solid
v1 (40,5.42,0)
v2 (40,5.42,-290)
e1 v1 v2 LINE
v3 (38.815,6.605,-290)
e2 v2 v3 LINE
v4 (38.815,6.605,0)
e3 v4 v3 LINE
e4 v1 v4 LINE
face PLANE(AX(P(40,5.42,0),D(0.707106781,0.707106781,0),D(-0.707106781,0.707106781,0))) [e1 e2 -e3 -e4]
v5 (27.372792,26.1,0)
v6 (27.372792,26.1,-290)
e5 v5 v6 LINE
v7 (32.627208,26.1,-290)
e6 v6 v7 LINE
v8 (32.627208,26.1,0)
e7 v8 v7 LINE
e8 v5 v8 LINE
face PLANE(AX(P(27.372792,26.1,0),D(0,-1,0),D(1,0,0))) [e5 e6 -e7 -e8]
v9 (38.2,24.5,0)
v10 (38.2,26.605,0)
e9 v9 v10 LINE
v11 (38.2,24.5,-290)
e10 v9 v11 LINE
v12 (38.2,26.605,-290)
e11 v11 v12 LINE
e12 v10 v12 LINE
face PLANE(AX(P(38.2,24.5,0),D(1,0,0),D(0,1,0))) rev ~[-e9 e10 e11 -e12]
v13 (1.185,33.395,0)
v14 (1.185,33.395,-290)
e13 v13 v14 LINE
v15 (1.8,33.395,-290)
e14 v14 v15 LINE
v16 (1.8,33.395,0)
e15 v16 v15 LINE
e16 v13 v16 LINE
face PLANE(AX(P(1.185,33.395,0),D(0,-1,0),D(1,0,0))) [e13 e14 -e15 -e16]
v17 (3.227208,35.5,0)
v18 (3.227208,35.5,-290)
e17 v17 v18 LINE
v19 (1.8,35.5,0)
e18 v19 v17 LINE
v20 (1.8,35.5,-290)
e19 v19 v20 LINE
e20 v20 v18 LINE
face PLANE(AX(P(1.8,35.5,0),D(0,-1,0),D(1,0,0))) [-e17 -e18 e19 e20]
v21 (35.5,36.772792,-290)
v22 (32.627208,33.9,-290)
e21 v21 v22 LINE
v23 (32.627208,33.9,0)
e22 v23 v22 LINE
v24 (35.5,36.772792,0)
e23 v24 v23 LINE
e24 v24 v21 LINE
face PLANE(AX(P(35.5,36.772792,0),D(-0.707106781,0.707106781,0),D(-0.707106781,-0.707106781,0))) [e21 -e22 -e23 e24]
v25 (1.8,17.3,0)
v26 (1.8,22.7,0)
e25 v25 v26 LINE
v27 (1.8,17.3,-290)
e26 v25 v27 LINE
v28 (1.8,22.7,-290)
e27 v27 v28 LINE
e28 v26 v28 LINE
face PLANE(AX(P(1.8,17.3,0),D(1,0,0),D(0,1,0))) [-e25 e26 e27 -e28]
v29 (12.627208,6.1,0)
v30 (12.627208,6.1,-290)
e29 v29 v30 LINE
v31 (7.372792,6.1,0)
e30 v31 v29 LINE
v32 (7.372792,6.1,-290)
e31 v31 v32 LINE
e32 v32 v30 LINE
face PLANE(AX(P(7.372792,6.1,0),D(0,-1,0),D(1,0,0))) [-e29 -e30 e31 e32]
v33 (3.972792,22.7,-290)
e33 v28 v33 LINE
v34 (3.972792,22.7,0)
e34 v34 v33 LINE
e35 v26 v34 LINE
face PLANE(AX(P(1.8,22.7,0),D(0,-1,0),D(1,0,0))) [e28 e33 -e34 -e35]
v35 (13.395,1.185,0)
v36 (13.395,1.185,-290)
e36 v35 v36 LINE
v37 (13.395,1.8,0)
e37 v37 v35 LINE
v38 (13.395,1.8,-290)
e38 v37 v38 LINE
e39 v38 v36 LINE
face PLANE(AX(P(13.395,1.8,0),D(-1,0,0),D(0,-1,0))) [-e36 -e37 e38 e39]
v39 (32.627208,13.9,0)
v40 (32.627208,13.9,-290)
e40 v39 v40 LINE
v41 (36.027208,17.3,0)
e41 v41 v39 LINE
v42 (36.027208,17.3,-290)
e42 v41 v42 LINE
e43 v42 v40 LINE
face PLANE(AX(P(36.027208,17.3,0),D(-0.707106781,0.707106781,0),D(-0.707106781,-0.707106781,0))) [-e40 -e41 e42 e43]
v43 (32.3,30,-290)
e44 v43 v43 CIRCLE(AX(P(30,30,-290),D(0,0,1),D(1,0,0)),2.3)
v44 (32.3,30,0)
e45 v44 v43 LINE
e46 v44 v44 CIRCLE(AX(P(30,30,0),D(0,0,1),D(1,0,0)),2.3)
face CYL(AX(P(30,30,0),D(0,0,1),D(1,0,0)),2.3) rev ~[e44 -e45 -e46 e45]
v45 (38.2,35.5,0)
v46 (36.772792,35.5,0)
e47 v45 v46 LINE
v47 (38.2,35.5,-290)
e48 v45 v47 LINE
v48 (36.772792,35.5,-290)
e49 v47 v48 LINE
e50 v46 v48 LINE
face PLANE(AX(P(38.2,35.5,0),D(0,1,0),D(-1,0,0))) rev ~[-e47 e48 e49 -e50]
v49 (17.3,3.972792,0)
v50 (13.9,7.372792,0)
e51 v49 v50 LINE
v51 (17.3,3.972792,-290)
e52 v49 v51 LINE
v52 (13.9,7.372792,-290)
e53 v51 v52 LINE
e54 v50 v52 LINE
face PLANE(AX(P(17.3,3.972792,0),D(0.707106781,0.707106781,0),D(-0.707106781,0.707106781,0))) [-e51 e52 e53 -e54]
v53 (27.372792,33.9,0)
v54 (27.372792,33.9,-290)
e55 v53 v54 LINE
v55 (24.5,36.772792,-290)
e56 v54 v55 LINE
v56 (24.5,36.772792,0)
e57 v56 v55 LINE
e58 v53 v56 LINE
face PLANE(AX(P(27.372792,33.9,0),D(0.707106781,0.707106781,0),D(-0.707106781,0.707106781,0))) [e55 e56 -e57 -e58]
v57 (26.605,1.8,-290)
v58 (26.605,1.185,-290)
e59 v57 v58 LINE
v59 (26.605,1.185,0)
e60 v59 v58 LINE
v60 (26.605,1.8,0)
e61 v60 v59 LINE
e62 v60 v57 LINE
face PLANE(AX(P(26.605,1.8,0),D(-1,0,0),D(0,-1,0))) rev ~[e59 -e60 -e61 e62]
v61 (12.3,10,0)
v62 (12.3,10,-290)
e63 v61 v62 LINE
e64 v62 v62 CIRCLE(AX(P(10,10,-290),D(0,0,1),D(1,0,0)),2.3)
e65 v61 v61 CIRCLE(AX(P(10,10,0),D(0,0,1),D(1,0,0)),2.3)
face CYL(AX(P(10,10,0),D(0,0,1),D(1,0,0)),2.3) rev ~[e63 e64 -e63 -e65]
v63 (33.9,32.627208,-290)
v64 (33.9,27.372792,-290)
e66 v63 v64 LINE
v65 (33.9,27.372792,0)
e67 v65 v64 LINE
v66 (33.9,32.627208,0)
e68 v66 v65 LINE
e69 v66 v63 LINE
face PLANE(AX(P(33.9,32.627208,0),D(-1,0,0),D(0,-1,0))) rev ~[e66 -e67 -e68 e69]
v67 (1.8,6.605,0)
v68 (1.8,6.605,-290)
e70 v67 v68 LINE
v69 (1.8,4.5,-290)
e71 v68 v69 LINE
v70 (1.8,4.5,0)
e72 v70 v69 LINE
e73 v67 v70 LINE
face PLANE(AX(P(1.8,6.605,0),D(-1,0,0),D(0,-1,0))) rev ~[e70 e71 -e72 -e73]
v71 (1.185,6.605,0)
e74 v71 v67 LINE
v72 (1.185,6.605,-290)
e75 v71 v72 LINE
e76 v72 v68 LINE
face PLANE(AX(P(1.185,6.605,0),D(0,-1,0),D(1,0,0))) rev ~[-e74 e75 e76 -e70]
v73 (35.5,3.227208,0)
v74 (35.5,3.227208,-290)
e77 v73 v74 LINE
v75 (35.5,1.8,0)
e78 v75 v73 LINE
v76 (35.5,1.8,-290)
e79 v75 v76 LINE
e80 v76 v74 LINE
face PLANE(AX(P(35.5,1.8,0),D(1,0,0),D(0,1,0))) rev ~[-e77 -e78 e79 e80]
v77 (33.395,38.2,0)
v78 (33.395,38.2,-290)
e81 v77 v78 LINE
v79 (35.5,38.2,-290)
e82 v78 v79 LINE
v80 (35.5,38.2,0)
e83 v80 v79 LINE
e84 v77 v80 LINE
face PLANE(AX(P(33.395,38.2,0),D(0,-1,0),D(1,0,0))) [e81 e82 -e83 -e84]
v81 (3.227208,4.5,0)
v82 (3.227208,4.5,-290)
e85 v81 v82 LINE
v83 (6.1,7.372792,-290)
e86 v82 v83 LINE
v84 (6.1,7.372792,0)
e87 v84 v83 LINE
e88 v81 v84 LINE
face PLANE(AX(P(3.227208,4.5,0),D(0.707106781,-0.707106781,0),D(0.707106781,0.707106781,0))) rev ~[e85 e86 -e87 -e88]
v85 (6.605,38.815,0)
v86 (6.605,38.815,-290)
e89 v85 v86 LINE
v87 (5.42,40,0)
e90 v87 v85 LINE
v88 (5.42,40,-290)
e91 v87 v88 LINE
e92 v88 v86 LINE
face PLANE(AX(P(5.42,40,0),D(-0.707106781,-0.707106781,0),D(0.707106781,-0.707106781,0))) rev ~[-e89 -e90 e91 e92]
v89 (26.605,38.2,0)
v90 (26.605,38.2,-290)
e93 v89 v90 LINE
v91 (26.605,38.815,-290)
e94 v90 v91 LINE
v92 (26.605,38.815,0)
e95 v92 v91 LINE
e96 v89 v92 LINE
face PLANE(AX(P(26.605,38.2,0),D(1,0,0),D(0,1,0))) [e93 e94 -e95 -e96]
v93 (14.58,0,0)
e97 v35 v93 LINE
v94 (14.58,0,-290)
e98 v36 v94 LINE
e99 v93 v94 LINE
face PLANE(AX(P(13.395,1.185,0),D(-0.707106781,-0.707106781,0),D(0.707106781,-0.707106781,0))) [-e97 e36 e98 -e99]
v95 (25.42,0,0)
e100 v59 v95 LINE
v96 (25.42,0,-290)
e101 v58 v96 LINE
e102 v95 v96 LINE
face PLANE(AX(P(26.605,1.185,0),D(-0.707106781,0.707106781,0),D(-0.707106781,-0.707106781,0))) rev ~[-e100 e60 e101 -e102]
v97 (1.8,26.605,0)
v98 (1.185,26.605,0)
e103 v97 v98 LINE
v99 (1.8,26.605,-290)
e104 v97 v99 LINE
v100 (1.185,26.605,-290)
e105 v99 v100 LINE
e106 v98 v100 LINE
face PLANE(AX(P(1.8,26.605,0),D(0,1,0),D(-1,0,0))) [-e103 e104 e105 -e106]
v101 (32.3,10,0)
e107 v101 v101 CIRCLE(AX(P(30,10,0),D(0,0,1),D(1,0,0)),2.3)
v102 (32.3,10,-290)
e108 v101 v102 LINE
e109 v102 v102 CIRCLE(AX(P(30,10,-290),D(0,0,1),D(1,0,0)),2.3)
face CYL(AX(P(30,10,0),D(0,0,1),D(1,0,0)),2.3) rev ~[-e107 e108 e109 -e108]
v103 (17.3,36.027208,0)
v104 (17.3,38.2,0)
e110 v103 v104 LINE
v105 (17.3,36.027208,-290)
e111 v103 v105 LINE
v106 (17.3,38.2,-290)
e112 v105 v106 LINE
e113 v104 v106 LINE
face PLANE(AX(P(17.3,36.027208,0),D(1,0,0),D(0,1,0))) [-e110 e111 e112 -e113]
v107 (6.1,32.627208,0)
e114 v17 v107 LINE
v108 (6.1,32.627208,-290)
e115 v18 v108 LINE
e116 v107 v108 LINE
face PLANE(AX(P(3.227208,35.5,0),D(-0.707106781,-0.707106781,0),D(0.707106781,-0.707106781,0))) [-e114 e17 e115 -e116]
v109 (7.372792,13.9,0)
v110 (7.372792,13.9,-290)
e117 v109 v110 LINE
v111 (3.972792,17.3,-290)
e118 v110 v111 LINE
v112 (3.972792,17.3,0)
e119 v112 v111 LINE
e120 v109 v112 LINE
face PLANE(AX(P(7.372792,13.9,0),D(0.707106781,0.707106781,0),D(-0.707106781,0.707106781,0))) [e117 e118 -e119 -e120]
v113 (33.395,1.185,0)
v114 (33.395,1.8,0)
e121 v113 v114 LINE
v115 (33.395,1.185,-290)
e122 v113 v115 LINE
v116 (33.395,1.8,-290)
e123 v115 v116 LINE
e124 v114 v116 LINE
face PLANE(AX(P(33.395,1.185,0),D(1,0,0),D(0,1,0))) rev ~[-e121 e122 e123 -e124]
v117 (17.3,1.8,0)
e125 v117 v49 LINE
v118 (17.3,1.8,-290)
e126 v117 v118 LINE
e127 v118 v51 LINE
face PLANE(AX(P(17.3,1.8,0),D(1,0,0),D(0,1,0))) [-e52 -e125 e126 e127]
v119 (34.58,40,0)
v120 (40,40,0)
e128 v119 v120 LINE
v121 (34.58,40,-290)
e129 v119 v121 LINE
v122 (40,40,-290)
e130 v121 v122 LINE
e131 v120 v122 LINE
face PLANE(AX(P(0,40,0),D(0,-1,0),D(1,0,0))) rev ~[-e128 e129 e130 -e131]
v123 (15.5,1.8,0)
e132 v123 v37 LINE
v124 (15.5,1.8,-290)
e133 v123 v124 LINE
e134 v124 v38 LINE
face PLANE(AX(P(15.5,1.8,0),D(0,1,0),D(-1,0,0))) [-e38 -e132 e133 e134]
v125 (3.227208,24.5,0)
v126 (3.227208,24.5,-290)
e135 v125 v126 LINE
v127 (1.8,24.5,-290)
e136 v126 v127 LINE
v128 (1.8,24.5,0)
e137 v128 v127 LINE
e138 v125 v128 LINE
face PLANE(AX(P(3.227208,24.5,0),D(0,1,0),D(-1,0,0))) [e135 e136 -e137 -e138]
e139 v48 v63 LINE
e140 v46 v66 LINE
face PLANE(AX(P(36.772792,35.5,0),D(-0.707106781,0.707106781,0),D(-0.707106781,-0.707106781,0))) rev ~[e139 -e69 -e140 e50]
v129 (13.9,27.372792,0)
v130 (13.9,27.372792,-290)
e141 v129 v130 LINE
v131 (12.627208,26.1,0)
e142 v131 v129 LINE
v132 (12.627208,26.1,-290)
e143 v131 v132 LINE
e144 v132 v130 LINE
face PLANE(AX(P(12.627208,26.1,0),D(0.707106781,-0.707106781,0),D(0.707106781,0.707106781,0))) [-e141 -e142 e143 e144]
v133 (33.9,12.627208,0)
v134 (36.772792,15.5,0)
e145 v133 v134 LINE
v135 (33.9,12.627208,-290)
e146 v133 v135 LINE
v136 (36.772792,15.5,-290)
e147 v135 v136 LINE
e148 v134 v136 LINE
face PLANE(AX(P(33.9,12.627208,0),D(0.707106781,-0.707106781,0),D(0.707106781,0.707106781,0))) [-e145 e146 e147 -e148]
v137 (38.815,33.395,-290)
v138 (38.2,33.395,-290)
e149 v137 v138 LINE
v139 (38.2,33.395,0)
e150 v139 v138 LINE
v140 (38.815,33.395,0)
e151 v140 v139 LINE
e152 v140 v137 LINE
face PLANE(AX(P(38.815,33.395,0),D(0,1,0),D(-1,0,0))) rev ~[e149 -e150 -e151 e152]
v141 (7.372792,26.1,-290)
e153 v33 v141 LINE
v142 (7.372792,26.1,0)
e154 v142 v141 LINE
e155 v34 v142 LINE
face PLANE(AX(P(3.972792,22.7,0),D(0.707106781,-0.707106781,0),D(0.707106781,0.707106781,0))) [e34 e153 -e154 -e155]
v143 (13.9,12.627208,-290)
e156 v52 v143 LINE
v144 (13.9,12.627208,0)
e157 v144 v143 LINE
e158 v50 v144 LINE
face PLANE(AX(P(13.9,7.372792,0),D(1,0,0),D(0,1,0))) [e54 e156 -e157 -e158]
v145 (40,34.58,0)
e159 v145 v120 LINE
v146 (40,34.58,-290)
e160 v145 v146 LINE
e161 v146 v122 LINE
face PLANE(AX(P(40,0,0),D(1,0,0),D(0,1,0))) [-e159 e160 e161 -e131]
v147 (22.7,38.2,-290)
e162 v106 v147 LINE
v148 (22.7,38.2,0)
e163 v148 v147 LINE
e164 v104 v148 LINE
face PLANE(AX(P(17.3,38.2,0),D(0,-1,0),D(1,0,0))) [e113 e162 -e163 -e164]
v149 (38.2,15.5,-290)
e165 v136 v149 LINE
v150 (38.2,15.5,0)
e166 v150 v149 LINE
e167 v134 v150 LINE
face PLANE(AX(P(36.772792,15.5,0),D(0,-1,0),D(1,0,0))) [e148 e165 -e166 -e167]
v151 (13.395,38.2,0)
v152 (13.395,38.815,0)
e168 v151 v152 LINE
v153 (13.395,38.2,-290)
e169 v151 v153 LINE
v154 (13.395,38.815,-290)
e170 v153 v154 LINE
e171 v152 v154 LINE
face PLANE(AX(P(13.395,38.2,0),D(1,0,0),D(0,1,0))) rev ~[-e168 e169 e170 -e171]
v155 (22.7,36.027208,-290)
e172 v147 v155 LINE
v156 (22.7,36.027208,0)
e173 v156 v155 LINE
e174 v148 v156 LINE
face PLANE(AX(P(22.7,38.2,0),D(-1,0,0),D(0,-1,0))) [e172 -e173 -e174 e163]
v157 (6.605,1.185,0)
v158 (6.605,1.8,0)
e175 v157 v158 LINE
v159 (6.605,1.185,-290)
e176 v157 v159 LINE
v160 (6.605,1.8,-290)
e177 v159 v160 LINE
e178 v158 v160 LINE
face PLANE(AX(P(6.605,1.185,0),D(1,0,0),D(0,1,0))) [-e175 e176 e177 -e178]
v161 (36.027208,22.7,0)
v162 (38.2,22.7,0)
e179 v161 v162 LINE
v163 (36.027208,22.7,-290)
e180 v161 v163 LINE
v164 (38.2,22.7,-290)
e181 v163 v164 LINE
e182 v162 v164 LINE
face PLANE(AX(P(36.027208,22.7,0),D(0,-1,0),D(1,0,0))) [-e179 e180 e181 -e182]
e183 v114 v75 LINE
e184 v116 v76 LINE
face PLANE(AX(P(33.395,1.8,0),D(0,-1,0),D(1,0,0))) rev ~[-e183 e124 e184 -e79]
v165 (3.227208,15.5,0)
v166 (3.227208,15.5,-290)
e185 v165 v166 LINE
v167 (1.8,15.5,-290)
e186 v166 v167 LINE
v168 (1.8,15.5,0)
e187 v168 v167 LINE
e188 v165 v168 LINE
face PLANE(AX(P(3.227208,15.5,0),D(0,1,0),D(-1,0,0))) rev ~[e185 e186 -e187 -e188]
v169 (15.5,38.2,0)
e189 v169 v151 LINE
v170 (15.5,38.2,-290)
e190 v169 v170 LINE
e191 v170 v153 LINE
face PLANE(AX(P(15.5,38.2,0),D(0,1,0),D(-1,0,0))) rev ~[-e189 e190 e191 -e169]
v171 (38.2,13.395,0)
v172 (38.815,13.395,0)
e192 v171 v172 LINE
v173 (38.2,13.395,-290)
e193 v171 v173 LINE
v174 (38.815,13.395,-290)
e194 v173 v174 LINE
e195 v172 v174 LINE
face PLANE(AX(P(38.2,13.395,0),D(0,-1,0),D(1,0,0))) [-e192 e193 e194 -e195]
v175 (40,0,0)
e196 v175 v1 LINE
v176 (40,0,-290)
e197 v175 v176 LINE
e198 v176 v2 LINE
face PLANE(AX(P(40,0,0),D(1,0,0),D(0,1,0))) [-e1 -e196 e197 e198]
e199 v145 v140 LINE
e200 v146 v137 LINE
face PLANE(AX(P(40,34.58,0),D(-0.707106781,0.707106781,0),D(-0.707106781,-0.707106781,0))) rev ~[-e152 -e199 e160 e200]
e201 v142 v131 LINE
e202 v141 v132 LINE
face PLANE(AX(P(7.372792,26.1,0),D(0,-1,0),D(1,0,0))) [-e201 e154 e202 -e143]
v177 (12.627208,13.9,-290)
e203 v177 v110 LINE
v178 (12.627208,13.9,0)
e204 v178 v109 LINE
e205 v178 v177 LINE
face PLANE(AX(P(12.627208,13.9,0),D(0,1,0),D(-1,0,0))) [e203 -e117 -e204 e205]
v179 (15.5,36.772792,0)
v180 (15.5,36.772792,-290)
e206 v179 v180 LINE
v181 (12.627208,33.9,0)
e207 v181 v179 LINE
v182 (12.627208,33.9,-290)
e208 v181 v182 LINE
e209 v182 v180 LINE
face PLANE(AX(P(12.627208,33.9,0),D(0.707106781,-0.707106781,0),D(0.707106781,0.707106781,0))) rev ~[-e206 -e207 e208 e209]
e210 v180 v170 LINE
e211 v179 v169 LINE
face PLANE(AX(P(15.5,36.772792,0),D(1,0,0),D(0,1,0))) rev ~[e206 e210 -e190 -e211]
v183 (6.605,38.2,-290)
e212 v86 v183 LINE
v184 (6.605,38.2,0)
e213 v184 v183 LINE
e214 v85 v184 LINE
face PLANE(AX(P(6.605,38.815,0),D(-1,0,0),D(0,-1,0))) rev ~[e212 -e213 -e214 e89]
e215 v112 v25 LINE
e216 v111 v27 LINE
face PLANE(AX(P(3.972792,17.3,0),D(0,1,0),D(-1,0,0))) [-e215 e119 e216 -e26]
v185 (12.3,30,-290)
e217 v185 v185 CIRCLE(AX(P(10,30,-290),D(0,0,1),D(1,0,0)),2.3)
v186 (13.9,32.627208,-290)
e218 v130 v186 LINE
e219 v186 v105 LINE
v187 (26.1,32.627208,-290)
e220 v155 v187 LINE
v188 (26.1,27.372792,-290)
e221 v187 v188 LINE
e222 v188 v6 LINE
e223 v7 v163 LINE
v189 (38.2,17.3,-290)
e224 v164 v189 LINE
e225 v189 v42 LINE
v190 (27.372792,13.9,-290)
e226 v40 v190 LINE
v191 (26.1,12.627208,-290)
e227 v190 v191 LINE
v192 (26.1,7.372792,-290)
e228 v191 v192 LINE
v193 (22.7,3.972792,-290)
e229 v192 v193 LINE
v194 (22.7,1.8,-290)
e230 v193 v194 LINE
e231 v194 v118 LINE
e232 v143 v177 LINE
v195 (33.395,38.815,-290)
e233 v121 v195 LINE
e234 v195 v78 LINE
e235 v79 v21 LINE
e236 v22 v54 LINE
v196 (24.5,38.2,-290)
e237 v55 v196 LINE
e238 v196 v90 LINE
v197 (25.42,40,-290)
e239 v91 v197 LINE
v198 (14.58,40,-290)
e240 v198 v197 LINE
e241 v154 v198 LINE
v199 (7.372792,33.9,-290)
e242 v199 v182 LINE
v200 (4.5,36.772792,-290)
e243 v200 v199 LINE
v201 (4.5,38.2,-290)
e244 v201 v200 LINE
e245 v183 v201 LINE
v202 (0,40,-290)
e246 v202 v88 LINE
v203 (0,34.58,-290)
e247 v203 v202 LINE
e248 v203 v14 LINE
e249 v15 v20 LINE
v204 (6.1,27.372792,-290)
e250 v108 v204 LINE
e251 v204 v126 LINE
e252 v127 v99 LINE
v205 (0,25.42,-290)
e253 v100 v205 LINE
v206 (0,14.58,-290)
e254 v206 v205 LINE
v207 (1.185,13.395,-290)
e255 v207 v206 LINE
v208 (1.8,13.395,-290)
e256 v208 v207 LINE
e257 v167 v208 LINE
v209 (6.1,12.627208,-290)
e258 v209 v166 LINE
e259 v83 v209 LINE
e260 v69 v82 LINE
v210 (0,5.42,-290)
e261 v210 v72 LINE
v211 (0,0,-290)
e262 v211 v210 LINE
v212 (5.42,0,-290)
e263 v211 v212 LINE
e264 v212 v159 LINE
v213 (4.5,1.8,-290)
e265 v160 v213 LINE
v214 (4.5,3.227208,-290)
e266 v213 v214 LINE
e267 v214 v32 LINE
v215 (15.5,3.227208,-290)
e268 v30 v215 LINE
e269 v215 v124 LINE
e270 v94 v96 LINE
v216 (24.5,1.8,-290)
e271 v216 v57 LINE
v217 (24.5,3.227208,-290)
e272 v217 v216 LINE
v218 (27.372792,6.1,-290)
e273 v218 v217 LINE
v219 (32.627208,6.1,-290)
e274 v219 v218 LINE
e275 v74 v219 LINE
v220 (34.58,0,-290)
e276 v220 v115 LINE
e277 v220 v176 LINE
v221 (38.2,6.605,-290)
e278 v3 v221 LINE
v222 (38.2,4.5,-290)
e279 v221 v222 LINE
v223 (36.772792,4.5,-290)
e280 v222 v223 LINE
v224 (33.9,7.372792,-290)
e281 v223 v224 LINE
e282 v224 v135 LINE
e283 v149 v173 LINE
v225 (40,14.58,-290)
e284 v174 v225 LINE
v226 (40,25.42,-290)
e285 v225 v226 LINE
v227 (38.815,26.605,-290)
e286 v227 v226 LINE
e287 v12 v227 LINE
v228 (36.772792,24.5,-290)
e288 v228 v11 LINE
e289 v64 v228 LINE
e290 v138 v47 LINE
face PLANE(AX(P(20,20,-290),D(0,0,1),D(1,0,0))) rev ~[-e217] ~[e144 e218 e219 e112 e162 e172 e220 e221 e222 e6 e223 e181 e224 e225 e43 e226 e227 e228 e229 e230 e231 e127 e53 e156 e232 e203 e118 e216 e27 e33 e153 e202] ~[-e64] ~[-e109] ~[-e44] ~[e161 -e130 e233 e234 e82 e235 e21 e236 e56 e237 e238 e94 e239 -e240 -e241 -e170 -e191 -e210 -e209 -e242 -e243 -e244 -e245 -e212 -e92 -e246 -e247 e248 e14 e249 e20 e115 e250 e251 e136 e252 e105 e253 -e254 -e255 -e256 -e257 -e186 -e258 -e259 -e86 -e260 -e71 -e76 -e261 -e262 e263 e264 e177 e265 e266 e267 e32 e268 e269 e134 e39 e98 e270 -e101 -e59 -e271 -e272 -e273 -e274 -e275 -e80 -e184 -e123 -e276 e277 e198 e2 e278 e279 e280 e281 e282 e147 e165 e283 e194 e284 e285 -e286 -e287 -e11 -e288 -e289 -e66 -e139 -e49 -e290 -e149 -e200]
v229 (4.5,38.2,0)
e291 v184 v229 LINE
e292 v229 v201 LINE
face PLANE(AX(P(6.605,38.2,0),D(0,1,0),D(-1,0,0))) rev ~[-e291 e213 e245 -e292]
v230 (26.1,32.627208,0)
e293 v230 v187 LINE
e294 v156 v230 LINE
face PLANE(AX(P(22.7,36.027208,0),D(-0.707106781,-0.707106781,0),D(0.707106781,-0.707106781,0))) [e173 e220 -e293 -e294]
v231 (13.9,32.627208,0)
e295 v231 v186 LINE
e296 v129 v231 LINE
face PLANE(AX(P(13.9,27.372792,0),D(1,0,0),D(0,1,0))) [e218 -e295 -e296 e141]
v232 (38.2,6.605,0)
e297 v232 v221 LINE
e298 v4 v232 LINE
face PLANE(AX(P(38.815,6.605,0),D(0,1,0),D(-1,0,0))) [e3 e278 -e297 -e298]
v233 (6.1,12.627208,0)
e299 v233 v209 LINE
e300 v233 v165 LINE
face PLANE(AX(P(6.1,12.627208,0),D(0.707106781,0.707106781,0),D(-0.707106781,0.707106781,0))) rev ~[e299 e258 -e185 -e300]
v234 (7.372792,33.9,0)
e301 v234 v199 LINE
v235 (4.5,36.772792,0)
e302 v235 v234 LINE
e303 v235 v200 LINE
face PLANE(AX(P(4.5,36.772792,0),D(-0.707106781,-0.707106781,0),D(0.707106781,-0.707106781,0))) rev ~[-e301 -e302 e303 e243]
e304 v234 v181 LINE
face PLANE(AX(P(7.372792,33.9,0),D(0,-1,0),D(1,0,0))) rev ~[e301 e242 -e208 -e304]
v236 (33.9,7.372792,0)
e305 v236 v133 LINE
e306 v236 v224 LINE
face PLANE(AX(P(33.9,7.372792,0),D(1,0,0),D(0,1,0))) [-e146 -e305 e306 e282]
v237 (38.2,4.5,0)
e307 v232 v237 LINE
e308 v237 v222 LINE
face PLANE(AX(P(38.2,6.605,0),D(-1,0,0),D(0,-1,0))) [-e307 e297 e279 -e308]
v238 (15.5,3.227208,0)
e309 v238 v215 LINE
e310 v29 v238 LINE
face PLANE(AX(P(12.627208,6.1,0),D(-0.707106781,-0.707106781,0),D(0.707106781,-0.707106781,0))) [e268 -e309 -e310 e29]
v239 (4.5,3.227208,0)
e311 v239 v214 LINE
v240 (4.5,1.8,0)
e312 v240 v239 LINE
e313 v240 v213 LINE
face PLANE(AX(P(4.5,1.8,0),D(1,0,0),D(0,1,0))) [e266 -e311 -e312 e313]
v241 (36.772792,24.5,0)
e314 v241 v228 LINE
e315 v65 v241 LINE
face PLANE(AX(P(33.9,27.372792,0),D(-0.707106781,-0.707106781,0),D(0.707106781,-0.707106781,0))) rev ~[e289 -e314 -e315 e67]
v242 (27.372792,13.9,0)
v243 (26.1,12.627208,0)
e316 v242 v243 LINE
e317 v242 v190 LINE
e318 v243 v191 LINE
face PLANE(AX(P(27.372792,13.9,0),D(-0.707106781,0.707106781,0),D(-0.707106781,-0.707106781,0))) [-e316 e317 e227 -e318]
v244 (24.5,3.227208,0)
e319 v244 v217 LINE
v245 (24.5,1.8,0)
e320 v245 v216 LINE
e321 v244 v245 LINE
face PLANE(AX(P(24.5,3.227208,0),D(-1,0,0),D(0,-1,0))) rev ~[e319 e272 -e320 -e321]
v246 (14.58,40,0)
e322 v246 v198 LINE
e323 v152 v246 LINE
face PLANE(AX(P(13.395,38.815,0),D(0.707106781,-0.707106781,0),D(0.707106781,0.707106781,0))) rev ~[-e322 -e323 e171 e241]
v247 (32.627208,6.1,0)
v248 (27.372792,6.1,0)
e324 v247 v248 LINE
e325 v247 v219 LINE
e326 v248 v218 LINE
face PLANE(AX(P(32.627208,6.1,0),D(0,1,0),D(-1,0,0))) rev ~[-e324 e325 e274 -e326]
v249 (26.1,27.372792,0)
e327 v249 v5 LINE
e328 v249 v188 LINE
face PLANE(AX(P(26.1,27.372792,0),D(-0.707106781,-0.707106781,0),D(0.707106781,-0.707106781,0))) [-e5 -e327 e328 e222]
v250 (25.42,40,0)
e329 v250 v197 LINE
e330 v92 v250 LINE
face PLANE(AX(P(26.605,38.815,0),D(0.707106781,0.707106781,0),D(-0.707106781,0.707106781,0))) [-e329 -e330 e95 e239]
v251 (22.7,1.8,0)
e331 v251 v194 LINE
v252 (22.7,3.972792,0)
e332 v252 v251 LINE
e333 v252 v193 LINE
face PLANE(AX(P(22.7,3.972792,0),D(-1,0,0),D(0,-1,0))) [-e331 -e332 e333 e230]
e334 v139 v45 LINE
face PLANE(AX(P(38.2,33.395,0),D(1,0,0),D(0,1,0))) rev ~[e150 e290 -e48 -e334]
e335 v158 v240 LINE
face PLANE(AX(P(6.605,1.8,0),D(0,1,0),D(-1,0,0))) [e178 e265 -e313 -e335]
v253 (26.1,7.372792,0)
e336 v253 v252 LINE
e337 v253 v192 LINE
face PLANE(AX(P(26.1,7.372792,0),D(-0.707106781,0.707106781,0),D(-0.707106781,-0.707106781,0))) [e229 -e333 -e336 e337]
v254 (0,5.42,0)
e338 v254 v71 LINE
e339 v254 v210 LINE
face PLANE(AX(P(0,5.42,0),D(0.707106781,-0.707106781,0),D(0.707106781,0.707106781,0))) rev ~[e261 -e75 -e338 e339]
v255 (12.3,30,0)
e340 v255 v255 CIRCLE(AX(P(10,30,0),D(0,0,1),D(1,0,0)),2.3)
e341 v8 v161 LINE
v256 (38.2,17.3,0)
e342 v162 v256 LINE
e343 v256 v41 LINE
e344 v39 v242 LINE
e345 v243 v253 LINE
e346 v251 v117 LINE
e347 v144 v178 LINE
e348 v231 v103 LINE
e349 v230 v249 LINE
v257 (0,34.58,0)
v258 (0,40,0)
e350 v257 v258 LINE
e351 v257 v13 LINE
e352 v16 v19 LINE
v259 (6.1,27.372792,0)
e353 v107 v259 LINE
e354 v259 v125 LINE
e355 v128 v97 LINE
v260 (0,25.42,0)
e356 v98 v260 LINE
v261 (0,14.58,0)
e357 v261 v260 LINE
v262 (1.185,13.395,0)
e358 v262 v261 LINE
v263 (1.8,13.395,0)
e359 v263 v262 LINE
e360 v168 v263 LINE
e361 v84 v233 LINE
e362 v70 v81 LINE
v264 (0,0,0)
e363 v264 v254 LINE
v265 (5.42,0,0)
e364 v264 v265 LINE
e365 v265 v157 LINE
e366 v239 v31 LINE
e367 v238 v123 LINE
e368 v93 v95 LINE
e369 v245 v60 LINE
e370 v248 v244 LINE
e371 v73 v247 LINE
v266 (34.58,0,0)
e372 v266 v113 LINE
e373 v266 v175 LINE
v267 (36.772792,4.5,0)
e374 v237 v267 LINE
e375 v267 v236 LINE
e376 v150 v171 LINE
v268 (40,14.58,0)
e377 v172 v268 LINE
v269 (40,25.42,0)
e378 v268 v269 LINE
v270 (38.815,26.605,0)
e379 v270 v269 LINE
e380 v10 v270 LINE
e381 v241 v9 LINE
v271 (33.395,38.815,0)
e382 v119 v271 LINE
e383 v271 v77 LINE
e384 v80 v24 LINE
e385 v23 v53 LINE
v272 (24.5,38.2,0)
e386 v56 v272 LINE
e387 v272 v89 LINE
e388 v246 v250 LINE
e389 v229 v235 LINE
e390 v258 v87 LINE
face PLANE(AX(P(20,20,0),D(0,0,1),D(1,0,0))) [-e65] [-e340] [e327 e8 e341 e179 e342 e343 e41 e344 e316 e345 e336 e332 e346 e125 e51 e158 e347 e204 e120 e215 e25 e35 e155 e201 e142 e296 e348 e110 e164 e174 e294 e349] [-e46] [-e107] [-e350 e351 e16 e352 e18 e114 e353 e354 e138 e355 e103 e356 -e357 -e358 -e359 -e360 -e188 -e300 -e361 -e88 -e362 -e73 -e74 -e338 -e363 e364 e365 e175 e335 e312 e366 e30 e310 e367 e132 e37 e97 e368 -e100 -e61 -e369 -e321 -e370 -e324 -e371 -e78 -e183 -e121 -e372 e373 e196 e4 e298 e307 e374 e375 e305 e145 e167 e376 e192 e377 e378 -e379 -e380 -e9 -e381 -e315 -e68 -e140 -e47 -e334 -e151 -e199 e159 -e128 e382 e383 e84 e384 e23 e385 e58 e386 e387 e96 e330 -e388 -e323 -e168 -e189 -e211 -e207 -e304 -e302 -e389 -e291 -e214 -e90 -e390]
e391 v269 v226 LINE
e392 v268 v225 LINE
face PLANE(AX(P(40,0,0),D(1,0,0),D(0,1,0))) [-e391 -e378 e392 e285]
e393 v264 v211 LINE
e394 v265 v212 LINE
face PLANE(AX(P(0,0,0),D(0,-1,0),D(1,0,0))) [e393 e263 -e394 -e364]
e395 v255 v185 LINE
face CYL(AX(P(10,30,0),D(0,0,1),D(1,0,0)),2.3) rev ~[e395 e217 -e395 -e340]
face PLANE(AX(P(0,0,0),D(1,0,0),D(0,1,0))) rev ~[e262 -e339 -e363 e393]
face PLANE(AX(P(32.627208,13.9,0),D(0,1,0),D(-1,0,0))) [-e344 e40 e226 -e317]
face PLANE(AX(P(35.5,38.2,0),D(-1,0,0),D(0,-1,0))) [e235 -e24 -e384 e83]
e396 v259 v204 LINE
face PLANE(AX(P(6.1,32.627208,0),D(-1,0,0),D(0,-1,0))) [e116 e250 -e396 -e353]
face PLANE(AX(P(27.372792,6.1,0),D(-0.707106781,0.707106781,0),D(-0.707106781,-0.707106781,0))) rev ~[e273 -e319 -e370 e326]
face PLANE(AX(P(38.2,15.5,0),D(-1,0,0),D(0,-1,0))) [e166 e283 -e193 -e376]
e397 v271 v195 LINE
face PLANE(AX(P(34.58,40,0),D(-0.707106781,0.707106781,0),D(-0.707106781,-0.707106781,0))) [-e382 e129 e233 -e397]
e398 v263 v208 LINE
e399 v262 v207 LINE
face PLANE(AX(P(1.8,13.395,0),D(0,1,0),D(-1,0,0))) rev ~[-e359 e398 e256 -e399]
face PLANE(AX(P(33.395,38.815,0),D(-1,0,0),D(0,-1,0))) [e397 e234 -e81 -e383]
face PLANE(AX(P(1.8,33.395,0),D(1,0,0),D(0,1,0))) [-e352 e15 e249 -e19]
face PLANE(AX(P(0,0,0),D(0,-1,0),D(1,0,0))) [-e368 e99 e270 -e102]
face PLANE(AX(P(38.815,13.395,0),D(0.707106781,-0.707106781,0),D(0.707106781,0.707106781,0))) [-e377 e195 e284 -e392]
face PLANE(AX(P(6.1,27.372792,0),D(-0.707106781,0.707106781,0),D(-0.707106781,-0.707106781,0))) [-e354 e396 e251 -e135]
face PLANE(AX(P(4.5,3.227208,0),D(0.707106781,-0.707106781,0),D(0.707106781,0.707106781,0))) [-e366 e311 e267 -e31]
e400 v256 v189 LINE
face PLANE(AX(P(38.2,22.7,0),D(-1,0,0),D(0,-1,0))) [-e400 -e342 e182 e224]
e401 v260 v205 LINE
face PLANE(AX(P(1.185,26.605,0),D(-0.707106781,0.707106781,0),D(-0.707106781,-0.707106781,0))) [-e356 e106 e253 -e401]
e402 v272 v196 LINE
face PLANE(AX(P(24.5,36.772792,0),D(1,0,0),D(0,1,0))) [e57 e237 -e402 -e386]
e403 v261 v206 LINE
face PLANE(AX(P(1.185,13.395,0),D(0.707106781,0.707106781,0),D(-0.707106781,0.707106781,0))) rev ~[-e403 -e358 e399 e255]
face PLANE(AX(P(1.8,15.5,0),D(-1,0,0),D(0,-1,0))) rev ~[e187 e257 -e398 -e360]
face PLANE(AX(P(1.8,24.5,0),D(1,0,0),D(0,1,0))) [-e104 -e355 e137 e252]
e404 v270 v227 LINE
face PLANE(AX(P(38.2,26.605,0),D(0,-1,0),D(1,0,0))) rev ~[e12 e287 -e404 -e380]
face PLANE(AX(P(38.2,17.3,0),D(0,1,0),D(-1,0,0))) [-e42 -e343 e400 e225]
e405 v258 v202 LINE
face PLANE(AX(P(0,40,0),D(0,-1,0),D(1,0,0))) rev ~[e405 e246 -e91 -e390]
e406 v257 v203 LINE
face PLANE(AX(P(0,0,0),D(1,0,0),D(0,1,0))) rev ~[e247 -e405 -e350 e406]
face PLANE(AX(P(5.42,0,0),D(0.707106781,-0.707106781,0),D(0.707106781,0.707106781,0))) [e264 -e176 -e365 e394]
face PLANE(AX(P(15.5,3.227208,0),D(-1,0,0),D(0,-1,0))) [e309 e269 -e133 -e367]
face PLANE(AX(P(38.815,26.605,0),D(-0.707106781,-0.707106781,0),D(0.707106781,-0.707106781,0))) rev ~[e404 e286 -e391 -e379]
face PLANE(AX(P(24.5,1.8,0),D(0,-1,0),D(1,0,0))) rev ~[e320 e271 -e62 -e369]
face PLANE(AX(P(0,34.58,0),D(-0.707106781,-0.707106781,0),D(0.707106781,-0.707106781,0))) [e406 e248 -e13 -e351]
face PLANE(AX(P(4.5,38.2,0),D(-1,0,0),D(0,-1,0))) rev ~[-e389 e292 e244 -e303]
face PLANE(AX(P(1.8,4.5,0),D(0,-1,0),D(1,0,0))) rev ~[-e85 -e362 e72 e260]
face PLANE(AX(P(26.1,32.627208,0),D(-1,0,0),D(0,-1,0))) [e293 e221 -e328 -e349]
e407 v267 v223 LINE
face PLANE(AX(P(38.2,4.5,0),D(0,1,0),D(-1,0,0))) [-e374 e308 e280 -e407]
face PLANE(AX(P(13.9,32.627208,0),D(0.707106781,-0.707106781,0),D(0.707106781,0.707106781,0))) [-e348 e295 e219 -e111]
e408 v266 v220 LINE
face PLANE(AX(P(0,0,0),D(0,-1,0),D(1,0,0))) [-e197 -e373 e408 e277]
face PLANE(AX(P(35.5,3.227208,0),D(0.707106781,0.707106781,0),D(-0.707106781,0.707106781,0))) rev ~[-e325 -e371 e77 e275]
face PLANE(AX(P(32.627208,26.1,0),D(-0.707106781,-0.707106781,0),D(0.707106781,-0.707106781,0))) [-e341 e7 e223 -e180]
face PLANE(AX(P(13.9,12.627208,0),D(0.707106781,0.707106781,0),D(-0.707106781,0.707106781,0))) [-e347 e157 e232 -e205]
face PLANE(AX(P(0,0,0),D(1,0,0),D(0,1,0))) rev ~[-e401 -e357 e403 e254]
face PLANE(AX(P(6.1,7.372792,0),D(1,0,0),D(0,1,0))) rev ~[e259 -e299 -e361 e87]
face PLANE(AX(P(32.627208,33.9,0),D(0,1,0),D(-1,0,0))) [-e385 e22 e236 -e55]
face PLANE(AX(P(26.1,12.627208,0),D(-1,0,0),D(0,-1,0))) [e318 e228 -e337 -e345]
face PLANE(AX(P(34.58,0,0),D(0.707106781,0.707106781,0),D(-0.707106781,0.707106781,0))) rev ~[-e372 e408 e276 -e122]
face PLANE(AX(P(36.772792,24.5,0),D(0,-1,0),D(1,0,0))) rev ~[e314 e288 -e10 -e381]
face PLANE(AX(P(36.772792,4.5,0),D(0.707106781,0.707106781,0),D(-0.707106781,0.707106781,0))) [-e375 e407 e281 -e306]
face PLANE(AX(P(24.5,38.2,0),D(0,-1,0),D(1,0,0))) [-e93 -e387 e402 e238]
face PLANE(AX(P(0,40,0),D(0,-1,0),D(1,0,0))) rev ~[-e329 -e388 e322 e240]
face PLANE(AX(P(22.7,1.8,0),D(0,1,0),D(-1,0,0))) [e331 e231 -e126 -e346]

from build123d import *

# Parameters (mm, degrees)
SKETCH1_W           = 40
SKETCH1_H           = 40
BOSS_EXTRUDE1_DEPTH = 290
SKETCH2_R           = 2.3
CUT_EXTRUDE1_DEPTH  = 290
CUT_EXTRUDE2_DEPTH  = 290


with BuildPart() as part:
    # Sketch1 → Boss-Extrude1 (new body)
    with BuildSketch(Plane.XY):
        with Locations((20, 20)):
            Rectangle(SKETCH1_W, SKETCH1_H)
    extrude(amount=-BOSS_EXTRUDE1_DEPTH)

    # Sketch2 → Cut-Extrude1 (cut)
    with BuildSketch(Plane.XY):
        with Locations((10, 30)):
            Circle(SKETCH2_R)
        with Locations((30, 30)):
            Circle(SKETCH2_R)
        with Locations((30, 10)):
            Circle(SKETCH2_R)
        with Locations((10, 10)):
            Circle(SKETCH2_R)
        Polygon((6.605, 38.815), (6.605, 38.2), (4.5, 38.2), (4.5, 36.772792206), (7.372792206, 33.9), (12.627207794, 33.9), (15.5, 36.772792206), (15.5, 38.2), (13.395, 38.2), (13.395, 38.815), (14.58, 40), (5.42, 40), align=None)
        Polygon((26.605, 38.815), (25.42, 40), (34.58, 40), (33.395, 38.815), (33.395, 38.2), (35.5, 38.2), (35.5, 36.772792206), (32.627207794, 33.9), (27.372792206, 33.9), (24.5, 36.772792206), (24.5, 38.2), (26.605, 38.2), align=None)
        Polygon((26.605, 1.8), (26.605, 1.185), (25.42, 0), (34.58, 0), (33.395, 1.185), (33.395, 1.8), (35.5, 1.8), (35.5, 3.227207794), (32.627207794, 6.1), (27.372792206, 6.1), (24.5, 3.227207794), (24.5, 1.8), align=None)
        Polygon((13.395, 1.185), (14.58, 0), (5.42, 0), (6.605, 1.185), (6.605, 1.8), (4.5, 1.8), (4.5, 3.227207794), (7.372792206, 6.1), (12.627207794, 6.1), (15.5, 3.227207794), (15.5, 1.8), (13.395, 1.8), align=None)
        Polygon((1.8, 13.395), (1.185, 13.395), (0, 14.58), (0, 5.42), (1.185, 6.605), (1.8, 6.605), (1.8, 4.5), (3.227207794, 4.5), (6.1, 7.372792206), (6.1, 12.627207794), (3.227207794, 15.5), (1.8, 15.5), align=None)
        Polygon((1.185, 26.605), (0, 25.42), (0, 34.58), (1.185, 33.395), (1.8, 33.395), (1.8, 35.5), (3.227207794, 35.5), (6.1, 32.627207794), (6.1, 27.372792206), (3.227207794, 24.5), (1.8, 24.5), (1.8, 26.605), align=None)
        Polygon((38.2, 15.5), (38.2, 13.395), (38.815, 13.395), (40, 14.58), (40, 5.42), (38.815, 6.605), (38.2, 6.605), (38.2, 4.5), (36.772792206, 4.5), (33.9, 7.372792206), (33.9, 12.627207794), (36.772792206, 15.5), align=None)
        Polygon((38.2, 26.605), (38.815, 26.605), (40, 25.42), (40, 34.58), (38.815, 33.395), (38.2, 33.395), (38.2, 35.5), (36.772792206, 35.5), (33.9, 32.627207794), (33.9, 27.372792206), (36.772792206, 24.5), (38.2, 24.5), align=None)
    extrude(amount=-CUT_EXTRUDE1_DEPTH, mode=Mode.SUBTRACT)

    # Sketch3 → Cut-Extrude2 (cut)
    with BuildSketch(Plane.XY):
        Polygon((17.3, 38.2), (22.7, 38.2), (22.7, 36.027207794), (26.1, 32.627207794), (26.1, 27.372792206), (27.372792206, 26.1), (32.627207794, 26.1), (36.027207794, 22.7), (38.2, 22.7), (38.2, 17.3), (36.027207794, 17.3), (32.627207794, 13.9), (27.372792206, 13.9), (26.1, 12.627207794), (26.1, 7.372792206), (22.7, 3.972792206), (22.7, 1.8), (17.3, 1.8), (17.3, 3.972792206), (13.9, 7.372792206), (13.9, 12.627207794), (12.627207794, 13.9), (7.372792206, 13.9), (3.972792206, 17.3), (1.8, 17.3), (1.8, 22.7), (3.972792206, 22.7), (7.372792206, 26.1), (12.627207794, 26.1), (13.9, 27.372792206), (13.9, 32.627207794), (17.3, 36.027207794), align=None)
    extrude(amount=-CUT_EXTRUDE2_DEPTH, mode=Mode.SUBTRACT)


solid = part.part
